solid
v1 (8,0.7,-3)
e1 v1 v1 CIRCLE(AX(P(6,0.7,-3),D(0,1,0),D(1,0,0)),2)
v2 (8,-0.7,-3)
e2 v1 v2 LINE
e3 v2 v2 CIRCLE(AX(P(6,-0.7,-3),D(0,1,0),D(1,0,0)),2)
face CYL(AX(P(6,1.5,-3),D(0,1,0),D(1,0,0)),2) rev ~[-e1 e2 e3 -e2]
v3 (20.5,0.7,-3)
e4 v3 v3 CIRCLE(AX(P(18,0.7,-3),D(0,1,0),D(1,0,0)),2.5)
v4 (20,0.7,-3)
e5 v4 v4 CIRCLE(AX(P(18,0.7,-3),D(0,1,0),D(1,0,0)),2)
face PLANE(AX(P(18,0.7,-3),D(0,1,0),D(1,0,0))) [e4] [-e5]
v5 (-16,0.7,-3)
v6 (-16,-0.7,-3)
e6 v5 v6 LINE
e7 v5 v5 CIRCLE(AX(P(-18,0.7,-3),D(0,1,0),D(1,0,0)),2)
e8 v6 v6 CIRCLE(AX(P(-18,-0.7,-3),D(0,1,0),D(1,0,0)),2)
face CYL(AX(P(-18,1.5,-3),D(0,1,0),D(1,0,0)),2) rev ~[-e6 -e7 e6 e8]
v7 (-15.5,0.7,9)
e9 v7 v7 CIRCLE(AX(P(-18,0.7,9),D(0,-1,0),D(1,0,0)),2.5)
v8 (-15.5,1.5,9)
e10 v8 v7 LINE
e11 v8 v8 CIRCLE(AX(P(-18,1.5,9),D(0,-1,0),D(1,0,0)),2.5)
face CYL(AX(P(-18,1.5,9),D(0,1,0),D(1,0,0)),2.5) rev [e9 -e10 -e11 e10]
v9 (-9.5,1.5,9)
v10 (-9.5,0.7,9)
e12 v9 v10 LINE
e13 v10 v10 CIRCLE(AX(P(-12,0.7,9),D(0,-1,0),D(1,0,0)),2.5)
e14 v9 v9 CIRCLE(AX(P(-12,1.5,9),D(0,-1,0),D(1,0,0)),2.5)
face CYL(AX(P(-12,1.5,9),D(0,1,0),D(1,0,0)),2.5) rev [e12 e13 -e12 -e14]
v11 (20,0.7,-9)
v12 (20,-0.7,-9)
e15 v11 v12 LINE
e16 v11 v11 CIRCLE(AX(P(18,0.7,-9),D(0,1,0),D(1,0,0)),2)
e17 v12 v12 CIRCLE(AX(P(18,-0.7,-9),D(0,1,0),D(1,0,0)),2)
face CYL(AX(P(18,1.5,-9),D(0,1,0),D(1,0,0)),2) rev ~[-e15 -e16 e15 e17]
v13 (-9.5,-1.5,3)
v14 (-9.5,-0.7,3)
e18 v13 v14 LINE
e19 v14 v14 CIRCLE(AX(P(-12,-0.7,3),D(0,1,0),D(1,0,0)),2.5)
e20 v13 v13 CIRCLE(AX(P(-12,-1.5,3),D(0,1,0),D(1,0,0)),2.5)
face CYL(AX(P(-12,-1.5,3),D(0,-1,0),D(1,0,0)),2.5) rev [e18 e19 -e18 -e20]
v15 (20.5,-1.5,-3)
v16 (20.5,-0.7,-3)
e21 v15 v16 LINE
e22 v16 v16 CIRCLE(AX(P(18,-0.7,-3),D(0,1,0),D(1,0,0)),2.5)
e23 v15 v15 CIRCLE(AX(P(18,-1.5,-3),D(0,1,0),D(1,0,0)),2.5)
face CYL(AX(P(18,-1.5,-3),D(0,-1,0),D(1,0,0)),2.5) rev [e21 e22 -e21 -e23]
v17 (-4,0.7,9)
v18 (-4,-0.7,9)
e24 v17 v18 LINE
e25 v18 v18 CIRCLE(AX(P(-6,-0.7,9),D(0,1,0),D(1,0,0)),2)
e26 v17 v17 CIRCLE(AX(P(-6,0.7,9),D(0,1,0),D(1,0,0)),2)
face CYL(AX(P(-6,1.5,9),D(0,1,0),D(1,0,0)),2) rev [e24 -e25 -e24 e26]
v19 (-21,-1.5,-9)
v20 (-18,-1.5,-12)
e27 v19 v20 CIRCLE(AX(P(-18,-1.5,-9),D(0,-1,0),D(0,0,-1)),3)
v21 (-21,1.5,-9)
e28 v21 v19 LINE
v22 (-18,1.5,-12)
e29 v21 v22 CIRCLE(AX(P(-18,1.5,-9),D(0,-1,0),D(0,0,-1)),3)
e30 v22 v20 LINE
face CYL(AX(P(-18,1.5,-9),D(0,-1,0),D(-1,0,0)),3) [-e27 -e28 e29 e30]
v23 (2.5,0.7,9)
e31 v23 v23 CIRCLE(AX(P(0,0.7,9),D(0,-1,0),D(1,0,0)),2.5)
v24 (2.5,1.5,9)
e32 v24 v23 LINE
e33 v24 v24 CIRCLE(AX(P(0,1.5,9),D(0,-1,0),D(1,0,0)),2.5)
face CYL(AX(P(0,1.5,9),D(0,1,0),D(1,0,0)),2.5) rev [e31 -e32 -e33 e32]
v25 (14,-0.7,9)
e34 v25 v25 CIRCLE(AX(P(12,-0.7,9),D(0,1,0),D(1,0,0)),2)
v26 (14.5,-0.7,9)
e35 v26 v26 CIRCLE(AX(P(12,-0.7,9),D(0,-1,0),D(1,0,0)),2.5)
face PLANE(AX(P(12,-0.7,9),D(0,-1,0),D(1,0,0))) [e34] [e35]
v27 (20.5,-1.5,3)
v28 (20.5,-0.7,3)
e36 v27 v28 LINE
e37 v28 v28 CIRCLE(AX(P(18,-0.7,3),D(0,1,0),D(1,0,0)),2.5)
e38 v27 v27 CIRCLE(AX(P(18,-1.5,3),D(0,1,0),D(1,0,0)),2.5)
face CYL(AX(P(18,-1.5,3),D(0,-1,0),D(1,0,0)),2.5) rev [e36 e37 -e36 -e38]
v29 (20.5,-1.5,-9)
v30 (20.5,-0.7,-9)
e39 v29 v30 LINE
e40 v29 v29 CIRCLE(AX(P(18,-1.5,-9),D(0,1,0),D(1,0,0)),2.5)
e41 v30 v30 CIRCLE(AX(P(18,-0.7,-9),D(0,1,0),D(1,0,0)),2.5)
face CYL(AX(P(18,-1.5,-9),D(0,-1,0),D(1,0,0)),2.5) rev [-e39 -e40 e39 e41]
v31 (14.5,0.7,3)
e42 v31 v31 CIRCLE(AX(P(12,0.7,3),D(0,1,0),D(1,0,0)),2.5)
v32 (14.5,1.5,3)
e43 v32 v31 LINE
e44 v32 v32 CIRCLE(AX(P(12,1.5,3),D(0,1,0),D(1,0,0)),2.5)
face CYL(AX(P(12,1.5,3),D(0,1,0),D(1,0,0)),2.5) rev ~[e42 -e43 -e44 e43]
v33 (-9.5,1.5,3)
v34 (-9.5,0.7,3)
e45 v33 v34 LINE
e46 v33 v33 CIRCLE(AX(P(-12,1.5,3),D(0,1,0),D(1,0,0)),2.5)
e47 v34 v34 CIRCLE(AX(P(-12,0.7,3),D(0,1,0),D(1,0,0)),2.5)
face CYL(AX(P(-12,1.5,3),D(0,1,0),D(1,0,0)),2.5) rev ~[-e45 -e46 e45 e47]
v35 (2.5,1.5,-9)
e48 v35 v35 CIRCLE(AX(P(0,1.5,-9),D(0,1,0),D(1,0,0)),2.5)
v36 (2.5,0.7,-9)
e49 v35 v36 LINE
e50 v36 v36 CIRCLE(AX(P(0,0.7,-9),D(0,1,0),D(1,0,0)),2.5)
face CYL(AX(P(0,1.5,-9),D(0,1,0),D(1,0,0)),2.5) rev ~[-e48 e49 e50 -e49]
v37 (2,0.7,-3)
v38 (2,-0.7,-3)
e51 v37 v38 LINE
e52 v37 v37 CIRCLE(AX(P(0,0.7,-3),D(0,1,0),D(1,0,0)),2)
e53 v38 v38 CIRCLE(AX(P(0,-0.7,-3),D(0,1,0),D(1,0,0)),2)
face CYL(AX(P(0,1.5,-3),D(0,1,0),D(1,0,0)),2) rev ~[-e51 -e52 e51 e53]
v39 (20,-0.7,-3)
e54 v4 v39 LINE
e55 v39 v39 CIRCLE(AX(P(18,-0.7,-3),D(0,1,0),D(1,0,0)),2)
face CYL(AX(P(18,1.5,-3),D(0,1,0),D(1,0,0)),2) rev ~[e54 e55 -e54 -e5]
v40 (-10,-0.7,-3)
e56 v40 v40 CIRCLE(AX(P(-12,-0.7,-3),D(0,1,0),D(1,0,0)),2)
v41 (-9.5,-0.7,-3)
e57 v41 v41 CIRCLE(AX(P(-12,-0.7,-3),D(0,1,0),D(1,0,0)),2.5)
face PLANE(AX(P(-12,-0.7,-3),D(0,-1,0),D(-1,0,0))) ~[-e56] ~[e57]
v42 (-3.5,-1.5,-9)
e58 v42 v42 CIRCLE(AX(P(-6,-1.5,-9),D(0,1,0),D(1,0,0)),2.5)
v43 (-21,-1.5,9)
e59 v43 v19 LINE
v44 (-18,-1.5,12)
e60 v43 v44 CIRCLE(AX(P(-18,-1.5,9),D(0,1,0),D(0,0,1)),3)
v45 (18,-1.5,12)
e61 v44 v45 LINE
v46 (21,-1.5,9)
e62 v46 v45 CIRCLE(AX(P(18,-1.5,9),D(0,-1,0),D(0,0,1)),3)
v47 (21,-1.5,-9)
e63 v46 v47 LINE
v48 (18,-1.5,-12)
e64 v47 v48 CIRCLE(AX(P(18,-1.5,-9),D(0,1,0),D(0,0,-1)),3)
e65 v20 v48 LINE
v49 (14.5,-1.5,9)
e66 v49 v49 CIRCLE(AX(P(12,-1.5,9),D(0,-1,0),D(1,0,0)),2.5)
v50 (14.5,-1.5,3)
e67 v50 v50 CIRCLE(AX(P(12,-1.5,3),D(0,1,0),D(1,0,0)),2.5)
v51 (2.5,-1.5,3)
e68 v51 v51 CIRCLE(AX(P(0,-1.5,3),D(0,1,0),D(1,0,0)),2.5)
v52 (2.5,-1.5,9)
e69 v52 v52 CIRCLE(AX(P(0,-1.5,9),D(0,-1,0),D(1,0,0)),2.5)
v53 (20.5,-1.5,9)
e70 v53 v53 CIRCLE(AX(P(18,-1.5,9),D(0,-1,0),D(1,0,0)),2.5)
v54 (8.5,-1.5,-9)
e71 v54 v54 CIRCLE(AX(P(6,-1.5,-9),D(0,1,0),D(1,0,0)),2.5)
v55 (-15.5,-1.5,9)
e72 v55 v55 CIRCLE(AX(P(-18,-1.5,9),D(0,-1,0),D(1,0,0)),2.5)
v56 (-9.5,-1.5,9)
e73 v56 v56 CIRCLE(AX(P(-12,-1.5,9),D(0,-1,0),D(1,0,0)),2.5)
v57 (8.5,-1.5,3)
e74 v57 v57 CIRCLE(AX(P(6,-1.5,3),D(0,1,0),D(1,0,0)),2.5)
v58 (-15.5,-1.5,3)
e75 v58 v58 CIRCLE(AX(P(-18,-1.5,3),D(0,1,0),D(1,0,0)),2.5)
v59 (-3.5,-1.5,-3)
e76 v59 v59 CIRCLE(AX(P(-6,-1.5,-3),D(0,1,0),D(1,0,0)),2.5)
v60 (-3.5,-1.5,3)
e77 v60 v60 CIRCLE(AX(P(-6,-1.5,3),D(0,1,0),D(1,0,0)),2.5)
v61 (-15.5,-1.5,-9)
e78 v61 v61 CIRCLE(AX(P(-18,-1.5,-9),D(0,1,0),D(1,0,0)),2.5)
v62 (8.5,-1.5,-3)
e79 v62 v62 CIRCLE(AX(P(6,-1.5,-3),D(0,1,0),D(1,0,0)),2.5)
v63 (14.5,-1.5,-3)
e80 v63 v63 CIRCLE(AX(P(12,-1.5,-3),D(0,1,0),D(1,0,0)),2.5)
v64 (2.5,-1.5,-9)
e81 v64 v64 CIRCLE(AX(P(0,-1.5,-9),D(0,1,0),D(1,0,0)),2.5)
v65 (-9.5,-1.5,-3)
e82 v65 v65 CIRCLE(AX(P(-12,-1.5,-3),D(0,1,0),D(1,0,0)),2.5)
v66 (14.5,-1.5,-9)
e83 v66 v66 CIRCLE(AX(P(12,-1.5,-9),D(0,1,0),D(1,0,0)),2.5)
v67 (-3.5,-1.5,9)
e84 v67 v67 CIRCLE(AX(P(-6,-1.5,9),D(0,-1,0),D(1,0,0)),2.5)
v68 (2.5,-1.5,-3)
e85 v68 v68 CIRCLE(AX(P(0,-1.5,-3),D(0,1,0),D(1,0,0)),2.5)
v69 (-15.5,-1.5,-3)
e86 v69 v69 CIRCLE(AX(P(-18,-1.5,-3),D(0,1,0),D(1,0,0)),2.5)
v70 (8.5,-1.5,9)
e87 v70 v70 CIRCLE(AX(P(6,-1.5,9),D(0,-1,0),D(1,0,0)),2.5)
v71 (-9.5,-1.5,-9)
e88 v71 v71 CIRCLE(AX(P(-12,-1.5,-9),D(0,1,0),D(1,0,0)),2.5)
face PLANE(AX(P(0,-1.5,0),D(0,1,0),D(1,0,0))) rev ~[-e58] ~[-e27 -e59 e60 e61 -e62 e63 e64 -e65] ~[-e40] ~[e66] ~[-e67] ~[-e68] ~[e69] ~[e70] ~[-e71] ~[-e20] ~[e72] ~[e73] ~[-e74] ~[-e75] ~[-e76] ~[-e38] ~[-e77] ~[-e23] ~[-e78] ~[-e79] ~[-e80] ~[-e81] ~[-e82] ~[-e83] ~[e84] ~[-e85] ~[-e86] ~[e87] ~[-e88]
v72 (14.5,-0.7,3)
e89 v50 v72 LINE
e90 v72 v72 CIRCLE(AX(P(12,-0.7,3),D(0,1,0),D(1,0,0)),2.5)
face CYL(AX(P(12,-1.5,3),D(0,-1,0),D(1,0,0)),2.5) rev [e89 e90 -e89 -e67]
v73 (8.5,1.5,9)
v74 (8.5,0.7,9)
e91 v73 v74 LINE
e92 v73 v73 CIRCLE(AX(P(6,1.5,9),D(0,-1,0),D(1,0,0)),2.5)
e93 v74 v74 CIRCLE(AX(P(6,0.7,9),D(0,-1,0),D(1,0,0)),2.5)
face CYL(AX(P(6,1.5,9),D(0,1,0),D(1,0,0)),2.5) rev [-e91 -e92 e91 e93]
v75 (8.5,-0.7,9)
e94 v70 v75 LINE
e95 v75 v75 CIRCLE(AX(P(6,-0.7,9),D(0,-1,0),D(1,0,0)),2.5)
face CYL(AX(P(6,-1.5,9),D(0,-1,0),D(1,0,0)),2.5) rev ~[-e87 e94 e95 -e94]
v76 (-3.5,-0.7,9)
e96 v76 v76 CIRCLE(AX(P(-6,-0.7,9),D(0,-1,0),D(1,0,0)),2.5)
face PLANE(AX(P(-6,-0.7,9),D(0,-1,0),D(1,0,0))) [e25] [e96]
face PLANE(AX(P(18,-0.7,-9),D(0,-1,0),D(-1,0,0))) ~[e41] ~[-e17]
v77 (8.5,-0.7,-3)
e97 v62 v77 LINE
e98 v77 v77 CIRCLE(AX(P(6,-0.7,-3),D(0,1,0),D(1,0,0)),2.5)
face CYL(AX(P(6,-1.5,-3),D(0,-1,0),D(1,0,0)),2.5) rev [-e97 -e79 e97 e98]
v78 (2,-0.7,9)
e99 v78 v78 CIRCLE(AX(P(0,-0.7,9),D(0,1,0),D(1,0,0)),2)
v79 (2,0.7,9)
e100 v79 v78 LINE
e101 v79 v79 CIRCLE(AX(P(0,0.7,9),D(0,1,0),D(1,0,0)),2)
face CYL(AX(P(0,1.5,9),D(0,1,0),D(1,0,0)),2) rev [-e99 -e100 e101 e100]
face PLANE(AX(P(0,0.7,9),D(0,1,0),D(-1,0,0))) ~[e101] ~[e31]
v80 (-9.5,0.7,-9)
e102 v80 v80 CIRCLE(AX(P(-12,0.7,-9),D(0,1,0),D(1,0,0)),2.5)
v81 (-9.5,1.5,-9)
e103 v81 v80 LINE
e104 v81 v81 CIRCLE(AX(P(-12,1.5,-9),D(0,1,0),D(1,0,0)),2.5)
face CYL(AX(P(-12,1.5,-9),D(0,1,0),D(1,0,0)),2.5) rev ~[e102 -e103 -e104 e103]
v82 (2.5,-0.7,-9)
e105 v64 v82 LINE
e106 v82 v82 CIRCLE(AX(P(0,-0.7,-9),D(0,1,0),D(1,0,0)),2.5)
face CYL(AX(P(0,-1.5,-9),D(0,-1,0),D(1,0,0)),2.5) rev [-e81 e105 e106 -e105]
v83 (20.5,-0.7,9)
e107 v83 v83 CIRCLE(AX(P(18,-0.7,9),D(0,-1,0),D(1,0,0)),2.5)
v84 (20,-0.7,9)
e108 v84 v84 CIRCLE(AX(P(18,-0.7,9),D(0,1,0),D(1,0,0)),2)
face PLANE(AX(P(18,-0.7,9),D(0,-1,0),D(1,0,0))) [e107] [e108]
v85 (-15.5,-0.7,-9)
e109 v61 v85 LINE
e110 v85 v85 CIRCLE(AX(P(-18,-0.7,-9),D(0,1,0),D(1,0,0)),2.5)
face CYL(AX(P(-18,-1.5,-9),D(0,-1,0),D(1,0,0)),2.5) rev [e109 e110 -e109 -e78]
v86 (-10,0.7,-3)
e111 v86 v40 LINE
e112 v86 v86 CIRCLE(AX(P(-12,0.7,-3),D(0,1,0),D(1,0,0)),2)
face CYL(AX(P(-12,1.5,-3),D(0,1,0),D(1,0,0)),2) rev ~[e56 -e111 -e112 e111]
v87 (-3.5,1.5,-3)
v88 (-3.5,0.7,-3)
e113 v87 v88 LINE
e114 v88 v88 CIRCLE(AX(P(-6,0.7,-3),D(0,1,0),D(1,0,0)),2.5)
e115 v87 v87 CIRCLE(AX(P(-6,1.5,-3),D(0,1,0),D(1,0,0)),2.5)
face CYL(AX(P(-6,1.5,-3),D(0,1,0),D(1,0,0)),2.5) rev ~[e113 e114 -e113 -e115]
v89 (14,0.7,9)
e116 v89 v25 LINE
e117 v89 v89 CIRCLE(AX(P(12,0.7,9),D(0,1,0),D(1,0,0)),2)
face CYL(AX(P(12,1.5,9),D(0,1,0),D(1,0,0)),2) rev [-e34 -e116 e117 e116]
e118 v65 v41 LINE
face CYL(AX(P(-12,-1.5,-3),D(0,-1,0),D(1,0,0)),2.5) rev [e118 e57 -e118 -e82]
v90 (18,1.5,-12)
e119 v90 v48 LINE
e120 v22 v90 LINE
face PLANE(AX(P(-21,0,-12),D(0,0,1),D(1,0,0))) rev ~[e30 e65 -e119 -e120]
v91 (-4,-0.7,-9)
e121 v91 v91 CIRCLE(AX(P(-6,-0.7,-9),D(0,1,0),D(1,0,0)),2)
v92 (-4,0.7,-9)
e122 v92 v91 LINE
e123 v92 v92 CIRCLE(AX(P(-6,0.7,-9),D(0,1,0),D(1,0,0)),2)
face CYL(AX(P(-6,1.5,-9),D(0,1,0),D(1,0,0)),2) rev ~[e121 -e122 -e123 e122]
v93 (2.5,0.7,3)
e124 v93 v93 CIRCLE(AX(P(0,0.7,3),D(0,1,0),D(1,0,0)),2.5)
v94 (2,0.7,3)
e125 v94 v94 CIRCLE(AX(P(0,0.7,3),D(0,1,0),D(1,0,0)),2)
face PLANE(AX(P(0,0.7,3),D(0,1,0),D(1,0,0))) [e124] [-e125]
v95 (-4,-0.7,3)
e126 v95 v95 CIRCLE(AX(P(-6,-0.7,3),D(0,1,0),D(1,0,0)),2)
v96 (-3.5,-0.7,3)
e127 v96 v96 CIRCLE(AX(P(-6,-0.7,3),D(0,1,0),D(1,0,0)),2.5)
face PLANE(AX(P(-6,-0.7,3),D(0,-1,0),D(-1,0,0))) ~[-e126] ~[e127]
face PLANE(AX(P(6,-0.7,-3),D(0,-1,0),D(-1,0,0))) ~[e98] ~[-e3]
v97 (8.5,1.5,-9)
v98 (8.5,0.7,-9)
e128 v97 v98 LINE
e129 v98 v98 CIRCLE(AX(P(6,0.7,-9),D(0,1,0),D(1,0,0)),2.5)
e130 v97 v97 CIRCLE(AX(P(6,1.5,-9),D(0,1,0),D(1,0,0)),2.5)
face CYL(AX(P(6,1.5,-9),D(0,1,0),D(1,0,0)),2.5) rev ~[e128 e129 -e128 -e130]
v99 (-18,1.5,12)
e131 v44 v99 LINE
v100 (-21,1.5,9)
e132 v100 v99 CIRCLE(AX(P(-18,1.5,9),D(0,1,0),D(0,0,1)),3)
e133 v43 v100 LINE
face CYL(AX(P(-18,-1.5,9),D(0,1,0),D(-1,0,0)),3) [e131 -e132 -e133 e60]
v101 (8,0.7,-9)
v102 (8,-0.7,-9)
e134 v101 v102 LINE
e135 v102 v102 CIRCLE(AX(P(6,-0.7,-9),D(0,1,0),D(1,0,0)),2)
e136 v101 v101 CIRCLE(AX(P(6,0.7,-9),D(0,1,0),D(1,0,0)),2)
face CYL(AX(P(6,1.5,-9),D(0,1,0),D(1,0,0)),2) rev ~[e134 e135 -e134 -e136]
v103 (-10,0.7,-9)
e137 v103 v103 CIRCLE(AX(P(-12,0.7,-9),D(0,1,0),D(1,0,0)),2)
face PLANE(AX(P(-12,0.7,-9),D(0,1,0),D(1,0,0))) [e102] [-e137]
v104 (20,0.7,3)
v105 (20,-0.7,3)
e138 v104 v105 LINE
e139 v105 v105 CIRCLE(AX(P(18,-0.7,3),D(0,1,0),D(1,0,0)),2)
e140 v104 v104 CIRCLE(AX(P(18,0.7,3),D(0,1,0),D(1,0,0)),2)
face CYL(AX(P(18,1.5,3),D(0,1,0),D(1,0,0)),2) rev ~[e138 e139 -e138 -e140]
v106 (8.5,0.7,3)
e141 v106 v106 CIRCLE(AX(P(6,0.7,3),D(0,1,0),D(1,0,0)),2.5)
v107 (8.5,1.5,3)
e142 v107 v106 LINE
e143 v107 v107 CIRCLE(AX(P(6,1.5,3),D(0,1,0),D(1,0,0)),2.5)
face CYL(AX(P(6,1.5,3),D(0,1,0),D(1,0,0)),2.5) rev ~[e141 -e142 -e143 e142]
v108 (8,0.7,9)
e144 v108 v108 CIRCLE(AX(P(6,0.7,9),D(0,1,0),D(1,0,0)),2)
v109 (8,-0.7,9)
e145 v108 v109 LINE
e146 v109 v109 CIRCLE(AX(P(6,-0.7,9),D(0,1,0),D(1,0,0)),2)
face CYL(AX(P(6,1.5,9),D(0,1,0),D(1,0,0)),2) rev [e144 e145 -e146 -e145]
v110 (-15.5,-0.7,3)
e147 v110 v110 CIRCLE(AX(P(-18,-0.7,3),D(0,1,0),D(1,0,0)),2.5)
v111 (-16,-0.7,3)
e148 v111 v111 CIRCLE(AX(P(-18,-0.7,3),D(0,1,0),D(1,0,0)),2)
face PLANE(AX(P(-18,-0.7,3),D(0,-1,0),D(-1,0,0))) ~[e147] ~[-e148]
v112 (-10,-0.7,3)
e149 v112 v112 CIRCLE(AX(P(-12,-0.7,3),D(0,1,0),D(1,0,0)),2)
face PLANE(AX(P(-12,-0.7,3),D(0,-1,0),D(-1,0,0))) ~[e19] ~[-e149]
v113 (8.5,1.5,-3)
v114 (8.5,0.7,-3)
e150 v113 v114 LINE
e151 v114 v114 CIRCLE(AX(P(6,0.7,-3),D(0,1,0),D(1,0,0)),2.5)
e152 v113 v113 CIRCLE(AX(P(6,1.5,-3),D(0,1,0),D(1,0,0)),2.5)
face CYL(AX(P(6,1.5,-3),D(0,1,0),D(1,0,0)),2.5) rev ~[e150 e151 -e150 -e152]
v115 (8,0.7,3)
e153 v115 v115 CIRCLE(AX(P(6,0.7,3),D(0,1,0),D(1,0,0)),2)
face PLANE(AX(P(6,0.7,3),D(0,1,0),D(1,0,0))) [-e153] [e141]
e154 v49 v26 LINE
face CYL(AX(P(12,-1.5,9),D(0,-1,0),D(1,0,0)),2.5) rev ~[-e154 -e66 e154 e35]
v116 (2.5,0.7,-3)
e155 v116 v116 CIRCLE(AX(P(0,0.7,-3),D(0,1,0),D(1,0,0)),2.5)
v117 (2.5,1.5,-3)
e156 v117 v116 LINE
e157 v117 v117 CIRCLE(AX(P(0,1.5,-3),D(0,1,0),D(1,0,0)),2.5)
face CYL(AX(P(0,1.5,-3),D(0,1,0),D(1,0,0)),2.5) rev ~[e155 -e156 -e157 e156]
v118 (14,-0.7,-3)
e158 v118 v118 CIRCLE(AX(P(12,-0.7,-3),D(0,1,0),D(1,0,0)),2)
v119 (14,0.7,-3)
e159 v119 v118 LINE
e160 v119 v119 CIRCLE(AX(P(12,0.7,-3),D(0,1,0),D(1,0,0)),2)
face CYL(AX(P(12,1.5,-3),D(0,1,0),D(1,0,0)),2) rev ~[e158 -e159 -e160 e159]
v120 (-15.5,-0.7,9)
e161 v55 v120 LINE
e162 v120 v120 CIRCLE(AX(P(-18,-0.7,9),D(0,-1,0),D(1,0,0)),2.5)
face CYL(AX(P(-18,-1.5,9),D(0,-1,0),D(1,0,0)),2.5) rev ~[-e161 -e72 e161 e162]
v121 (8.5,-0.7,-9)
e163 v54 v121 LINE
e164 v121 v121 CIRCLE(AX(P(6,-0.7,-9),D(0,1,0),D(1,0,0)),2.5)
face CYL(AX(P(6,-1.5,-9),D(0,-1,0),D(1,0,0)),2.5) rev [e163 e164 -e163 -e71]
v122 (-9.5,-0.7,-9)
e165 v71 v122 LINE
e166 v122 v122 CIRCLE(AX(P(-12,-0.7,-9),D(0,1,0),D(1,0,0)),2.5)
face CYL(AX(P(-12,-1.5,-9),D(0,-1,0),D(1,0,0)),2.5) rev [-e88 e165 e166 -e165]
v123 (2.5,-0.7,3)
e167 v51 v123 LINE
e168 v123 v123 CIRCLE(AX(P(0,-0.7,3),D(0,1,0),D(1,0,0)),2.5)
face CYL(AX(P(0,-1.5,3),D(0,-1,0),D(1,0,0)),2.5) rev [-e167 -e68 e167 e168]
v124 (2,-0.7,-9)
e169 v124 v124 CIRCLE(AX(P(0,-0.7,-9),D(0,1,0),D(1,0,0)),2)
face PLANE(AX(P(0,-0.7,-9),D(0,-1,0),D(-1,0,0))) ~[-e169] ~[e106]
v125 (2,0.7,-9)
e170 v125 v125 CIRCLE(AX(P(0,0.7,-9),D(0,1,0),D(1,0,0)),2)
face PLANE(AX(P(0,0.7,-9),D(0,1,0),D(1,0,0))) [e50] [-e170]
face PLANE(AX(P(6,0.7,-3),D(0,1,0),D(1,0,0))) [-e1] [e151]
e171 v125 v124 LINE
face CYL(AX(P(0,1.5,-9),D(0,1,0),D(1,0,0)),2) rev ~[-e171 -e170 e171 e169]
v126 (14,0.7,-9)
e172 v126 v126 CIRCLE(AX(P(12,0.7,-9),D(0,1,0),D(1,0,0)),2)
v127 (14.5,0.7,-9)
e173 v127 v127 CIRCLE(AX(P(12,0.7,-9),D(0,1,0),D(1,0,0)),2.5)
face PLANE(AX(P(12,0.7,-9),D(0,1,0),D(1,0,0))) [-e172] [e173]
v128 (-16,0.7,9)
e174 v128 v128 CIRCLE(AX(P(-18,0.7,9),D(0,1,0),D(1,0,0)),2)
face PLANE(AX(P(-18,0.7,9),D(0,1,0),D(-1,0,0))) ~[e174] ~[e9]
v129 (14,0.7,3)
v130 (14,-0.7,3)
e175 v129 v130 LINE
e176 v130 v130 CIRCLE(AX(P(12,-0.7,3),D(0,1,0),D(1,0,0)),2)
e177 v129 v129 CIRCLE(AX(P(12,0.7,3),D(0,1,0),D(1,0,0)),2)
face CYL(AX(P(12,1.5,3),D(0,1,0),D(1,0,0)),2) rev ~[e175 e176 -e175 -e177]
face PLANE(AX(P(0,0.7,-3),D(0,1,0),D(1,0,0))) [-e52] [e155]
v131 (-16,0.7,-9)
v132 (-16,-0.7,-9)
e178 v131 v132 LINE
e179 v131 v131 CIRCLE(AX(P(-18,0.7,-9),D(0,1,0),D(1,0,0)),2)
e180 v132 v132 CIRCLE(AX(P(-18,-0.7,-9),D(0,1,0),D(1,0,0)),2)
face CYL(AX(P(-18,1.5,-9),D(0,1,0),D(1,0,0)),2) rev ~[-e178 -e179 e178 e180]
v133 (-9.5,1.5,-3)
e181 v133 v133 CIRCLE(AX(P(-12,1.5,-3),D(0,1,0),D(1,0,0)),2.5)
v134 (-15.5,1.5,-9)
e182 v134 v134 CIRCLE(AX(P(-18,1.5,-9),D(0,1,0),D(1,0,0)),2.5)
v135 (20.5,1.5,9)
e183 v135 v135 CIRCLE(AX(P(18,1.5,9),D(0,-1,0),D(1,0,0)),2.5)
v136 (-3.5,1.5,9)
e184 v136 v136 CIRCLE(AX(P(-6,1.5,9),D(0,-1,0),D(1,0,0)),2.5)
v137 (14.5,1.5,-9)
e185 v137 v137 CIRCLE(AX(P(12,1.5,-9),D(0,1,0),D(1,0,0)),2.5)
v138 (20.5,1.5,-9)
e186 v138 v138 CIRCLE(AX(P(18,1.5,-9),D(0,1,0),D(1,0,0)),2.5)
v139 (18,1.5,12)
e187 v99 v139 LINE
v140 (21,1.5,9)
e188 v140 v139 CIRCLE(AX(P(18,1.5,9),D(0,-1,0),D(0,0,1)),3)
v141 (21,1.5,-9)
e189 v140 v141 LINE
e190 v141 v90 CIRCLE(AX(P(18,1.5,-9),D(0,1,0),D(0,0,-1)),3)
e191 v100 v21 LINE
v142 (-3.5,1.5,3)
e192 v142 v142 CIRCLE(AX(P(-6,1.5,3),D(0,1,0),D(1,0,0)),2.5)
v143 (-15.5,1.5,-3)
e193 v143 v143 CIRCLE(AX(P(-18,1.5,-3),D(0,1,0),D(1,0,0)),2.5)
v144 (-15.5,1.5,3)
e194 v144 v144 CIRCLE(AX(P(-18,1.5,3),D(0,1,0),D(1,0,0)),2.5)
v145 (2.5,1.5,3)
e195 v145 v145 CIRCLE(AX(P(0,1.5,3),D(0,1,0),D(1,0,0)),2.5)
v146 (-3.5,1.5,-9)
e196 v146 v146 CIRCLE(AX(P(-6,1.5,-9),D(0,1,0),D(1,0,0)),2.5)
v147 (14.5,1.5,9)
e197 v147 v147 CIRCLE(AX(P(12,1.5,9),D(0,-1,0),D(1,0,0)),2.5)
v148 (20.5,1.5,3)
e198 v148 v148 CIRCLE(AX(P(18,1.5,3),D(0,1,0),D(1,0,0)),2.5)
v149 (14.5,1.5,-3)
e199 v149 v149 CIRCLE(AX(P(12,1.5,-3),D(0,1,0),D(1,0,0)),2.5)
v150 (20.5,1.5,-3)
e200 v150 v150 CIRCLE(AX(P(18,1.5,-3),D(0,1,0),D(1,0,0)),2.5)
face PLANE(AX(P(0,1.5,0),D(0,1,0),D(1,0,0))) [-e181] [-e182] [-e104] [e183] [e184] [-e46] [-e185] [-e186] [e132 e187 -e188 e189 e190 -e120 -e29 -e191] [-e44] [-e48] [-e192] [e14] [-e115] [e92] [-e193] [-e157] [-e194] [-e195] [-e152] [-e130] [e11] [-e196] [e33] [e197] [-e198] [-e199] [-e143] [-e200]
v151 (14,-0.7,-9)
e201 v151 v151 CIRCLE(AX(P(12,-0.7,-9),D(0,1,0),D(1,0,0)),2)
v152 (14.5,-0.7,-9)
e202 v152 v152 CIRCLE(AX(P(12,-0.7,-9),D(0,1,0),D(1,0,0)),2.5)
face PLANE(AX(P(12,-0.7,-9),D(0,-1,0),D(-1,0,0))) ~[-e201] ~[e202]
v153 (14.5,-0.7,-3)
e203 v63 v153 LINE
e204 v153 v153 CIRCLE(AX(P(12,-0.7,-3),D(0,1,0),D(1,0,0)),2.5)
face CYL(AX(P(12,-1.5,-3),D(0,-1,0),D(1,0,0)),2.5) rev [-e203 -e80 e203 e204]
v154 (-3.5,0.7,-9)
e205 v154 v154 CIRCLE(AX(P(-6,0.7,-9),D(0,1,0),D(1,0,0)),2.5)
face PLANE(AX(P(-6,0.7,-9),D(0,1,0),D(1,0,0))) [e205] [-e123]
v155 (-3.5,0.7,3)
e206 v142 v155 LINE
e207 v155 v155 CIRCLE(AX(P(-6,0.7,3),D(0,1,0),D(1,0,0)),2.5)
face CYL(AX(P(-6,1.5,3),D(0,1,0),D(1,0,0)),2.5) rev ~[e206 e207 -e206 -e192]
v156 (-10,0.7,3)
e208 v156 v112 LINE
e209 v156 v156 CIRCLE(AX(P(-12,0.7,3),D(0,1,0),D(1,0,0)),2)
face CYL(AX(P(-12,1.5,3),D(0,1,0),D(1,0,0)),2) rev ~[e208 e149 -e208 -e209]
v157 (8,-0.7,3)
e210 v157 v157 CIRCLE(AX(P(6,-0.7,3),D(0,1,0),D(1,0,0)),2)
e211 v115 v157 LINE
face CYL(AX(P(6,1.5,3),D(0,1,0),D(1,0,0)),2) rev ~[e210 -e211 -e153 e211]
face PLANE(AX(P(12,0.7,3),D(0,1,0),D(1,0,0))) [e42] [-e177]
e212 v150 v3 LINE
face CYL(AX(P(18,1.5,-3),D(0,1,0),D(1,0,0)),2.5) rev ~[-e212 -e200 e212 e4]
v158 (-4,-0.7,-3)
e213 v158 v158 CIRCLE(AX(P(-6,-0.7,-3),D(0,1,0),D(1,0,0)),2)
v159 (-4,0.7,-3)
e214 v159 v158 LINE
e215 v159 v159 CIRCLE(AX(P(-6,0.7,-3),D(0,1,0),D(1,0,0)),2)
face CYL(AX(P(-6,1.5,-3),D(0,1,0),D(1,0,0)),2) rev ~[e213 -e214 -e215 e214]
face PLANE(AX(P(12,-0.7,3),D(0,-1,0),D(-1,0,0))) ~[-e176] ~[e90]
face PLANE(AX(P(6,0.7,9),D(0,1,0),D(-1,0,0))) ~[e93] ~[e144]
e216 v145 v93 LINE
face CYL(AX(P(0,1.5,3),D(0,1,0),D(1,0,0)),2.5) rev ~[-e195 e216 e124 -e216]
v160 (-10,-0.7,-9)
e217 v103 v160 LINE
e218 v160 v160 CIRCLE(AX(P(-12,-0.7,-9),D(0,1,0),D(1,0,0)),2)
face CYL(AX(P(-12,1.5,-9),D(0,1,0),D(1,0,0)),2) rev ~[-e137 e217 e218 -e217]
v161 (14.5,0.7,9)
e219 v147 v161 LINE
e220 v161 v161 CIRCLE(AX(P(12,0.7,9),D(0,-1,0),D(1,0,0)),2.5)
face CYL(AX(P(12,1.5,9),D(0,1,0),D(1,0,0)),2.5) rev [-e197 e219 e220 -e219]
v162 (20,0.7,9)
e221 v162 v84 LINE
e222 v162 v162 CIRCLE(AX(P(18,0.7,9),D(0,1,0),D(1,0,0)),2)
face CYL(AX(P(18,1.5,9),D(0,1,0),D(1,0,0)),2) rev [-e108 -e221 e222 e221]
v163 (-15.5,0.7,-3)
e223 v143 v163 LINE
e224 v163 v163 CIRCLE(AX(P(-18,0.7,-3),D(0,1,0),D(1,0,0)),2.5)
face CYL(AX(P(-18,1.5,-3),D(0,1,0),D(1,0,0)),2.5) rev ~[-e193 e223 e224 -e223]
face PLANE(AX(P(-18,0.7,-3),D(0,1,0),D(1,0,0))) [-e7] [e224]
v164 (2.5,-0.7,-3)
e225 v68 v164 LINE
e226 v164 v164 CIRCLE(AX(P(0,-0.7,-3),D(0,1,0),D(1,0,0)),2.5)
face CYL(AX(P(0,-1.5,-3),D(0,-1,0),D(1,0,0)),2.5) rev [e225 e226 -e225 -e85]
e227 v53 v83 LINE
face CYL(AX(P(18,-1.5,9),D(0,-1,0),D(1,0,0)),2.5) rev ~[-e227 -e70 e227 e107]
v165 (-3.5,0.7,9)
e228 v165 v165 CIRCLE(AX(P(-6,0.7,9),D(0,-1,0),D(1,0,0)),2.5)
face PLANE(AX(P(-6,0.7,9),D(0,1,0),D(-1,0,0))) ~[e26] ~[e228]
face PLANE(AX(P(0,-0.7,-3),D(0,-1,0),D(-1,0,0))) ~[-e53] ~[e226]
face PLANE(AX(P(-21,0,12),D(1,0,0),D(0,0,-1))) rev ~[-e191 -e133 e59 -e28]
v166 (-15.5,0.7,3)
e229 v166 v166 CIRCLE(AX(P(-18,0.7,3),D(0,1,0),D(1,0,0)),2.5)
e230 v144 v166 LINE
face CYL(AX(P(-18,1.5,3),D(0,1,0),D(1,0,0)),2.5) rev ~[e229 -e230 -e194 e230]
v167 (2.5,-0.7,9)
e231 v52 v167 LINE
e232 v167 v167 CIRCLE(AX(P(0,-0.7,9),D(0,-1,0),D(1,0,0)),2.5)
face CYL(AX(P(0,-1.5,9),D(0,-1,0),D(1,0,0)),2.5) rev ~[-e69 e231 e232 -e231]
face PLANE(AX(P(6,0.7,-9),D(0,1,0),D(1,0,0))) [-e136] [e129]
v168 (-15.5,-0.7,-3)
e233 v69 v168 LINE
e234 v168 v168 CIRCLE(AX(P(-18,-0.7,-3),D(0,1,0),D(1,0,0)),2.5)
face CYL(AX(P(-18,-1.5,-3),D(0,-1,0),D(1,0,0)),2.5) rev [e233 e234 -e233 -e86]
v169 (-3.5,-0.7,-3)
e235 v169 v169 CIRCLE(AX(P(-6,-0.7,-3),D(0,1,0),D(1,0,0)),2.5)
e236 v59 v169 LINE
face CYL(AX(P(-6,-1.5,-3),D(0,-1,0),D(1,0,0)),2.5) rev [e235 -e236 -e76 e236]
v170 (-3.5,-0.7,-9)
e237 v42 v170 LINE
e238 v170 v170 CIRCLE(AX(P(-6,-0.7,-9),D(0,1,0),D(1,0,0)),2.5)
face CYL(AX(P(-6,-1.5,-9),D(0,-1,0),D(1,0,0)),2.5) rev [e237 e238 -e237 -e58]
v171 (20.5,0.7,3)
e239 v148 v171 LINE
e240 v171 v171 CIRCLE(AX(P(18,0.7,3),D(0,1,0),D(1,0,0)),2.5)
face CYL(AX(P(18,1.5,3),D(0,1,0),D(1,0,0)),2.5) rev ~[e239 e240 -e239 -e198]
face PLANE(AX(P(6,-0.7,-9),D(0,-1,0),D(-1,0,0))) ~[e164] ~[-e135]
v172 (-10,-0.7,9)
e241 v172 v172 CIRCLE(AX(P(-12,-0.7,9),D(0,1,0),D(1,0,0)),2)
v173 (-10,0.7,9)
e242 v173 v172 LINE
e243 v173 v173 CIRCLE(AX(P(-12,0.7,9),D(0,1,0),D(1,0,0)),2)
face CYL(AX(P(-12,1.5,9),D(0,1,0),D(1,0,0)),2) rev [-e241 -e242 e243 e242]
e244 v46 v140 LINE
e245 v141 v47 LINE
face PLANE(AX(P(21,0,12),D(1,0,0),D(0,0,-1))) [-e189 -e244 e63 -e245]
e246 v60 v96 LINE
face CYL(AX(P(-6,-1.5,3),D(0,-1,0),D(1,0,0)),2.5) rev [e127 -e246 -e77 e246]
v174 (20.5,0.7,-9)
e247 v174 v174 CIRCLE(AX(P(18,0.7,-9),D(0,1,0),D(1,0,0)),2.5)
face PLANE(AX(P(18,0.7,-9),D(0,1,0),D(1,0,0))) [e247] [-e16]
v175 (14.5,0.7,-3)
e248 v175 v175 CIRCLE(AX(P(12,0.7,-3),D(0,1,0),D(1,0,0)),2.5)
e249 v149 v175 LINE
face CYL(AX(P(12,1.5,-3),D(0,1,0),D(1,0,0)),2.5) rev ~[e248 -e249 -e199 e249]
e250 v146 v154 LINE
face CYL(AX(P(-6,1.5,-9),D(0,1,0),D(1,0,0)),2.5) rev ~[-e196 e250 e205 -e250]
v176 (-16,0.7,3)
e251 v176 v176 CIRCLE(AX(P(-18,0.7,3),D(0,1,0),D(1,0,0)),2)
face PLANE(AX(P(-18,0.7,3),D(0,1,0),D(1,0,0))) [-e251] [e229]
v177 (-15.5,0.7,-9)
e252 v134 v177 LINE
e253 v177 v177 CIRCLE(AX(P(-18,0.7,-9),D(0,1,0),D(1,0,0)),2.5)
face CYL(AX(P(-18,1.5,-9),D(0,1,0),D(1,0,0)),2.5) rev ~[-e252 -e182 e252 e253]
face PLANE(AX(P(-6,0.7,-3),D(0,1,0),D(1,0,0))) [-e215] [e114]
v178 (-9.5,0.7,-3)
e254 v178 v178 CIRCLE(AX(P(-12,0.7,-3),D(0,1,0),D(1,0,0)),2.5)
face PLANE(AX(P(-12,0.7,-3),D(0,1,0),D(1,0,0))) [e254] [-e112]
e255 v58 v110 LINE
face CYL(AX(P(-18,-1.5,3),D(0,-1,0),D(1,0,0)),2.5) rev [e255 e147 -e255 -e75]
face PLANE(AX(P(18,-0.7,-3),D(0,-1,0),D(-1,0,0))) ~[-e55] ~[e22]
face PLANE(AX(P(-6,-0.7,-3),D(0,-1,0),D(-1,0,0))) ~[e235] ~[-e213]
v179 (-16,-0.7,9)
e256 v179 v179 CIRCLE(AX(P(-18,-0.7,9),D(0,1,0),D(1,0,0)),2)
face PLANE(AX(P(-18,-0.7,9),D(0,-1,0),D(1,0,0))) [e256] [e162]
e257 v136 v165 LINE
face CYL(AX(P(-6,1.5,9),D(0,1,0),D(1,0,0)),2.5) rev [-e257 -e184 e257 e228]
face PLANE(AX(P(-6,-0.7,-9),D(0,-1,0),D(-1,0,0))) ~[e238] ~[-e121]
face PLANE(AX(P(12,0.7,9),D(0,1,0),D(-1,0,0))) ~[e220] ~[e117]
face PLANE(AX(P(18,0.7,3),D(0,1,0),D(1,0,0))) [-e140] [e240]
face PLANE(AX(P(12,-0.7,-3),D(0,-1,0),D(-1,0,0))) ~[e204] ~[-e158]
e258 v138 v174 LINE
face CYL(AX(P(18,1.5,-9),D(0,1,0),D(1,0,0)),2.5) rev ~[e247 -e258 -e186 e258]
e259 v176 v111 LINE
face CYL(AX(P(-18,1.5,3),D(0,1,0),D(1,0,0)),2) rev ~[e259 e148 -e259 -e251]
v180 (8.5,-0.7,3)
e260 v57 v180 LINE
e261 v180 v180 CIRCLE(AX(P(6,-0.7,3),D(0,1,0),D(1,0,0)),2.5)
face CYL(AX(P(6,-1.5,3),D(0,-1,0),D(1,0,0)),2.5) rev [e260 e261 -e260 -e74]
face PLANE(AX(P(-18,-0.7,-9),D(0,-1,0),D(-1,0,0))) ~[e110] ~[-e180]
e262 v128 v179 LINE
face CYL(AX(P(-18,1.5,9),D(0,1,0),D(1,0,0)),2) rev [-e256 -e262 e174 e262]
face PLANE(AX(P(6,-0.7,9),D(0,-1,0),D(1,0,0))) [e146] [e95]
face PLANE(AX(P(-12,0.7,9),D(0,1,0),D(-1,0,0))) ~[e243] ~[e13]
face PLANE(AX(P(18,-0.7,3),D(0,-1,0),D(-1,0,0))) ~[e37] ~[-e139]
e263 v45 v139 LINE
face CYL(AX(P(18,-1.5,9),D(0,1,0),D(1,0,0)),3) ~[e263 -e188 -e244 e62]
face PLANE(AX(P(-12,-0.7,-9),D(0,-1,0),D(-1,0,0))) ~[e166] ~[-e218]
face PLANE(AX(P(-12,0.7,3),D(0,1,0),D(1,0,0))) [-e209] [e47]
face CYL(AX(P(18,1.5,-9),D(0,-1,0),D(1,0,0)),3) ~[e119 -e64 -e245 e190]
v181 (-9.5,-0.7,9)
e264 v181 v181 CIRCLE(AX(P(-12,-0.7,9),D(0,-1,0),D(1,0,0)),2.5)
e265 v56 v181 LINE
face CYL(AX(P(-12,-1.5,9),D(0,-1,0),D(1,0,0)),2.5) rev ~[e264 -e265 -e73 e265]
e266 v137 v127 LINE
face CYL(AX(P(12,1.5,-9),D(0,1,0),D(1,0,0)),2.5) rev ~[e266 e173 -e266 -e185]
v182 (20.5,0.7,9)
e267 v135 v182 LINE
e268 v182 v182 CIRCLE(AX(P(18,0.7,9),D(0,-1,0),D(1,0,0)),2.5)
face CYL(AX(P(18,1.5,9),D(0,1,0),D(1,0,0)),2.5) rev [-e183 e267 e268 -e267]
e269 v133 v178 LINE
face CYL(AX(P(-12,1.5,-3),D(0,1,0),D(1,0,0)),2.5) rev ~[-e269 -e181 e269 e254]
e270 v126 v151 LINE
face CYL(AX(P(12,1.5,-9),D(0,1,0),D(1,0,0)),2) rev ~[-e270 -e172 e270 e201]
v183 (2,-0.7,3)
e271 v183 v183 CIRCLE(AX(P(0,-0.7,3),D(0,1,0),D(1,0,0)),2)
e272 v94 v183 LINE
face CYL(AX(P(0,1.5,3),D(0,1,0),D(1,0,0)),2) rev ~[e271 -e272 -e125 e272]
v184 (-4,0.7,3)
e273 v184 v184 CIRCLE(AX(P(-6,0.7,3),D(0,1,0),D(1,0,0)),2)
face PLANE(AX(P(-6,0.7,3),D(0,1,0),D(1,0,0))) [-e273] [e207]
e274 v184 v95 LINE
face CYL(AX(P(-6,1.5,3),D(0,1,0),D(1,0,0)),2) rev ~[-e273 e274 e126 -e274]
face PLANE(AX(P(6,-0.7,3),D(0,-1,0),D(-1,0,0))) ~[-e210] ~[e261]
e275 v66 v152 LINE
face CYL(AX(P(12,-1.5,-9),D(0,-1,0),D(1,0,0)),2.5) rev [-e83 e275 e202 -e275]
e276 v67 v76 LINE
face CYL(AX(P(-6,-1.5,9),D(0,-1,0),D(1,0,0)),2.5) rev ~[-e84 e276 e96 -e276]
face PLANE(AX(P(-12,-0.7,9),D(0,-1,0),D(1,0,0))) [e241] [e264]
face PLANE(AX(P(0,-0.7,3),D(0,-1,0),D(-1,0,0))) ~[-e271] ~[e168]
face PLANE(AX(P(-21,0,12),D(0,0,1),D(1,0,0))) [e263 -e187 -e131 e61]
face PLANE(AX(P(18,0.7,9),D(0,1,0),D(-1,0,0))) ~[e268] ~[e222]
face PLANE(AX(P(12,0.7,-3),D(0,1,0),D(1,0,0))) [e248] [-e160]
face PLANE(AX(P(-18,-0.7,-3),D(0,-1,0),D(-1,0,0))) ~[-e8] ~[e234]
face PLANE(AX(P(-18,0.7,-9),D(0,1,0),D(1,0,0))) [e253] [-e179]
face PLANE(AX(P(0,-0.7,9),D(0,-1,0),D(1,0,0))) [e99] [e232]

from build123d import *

# Parameters (mm, degrees)
SKETCH1_W               = 42
SKETCH1_H               = 24
BOSS_EXTRUDE1_DEPTH     = 1.5
FILLET1_R               = 3
SKETCH2_R               = 2
CUT_EXTRUDE1_DEPTH      = 4
SKETCH3_R               = 2.5
CUT_EXTRUDE2_DEPTH      = 0.8
MIRROR2_COPY_1_SKETCH_R = 2.5
MIRROR2_COPY_1_DEPTH    = 0.8


with BuildPart() as part:
    # Sketch1 → Boss-Extrude1 (new body, symmetric)
    with BuildSketch(Plane(origin=(0, 0, 0), x_dir=(1, 0, 0), z_dir=(0, 1, 0))):
        Rectangle(SKETCH1_W, SKETCH1_H)
    extrude(amount=BOSS_EXTRUDE1_DEPTH, both=True)

    # Fillet1
    fillet1_edges = [part.edges().sort_by_distance(p)[0] for p in [
        (-21, 0, -12),
        (21, 0, -12),
        (21, 0, 12),
        (-21, 0, 12),
    ]]
    fillet(fillet1_edges, radius=FILLET1_R)

    # Sketch2 → Cut-Extrude1 (cut, through all)
    with BuildSketch(Plane(origin=(0, 1.5, 0), x_dir=(1, 0, 0), z_dir=(0, 1, 0))):
        with Locations((-18, 9)):
            Circle(SKETCH2_R)
        with Locations((-12, 9)):
            Circle(SKETCH2_R)
        with Locations((-6, 9)):
            Circle(SKETCH2_R)
        with Locations((0, 9)):
            Circle(SKETCH2_R)
        with Locations((6, 9)):
            Circle(SKETCH2_R)
        with Locations((12, 9)):
            Circle(SKETCH2_R)
        with Locations((18, 9)):
            Circle(SKETCH2_R)
        with Locations((-12, 3)):
            Circle(SKETCH2_R)
        with Locations((-6, 3)):
            Circle(SKETCH2_R)
        with Locations((0, 3)):
            Circle(SKETCH2_R)
        with Locations((6, 3)):
            Circle(SKETCH2_R)
        with Locations((12, 3)):
            Circle(SKETCH2_R)
        with Locations((18, 3)):
            Circle(SKETCH2_R)
        with Locations((-12, -3)):
            Circle(SKETCH2_R)
        with Locations((-6, -3)):
            Circle(SKETCH2_R)
        with Locations((0, -3)):
            Circle(SKETCH2_R)
        with Locations((6, -3)):
            Circle(SKETCH2_R)
        with Locations((12, -3)):
            Circle(SKETCH2_R)
        with Locations((18, -3)):
            Circle(SKETCH2_R)
        with Locations((-18, 3)):
            Circle(SKETCH2_R)
        with Locations((-18, -3)):
            Circle(SKETCH2_R)
    cut_extrude1 = extrude(amount=-CUT_EXTRUDE1_DEPTH, mode=Mode.SUBTRACT)

    # Sketch3 → Cut-Extrude2 (cut)
    with BuildSketch(Plane(origin=(0, 1.5, 0), x_dir=(1, 0, 0), z_dir=(0, 1, 0))):
        with Locations((-18, 9)):
            Circle(SKETCH3_R)
        with Locations((-12, 9)):
            Circle(SKETCH3_R)
        with Locations((-6, 9)):
            Circle(SKETCH3_R)
        with Locations((0, 9)):
            Circle(SKETCH3_R)
        with Locations((6, 9)):
            Circle(SKETCH3_R)
        with Locations((12, 9)):
            Circle(SKETCH3_R)
        with Locations((18, 9)):
            Circle(SKETCH3_R)
        with Locations((-12, 3)):
            Circle(SKETCH3_R)
        with Locations((-6, 3)):
            Circle(SKETCH3_R)
        with Locations((0, 3)):
            Circle(SKETCH3_R)
        with Locations((6, 3)):
            Circle(SKETCH3_R)
        with Locations((12, 3)):
            Circle(SKETCH3_R)
        with Locations((18, 3)):
            Circle(SKETCH3_R)
        with Locations((-12, -3)):
            Circle(SKETCH3_R)
        with Locations((-6, -3)):
            Circle(SKETCH3_R)
        with Locations((0, -3)):
            Circle(SKETCH3_R)
        with Locations((6, -3)):
            Circle(SKETCH3_R)
        with Locations((12, -3)):
            Circle(SKETCH3_R)
        with Locations((18, -3)):
            Circle(SKETCH3_R)
        with Locations((-18, 3)):
            Circle(SKETCH3_R)
        with Locations((-18, -3)):
            Circle(SKETCH3_R)
    cut_extrude2 = extrude(amount=-CUT_EXTRUDE2_DEPTH, mode=Mode.SUBTRACT)

    # Mirror1: Cut-Extrude2 across plane
    add(cut_extrude2.mirror(Plane.ZX), mode=Mode.SUBTRACT)

    # Mirror2: Cut-Extrude1, Cut-Extrude2 across plane
    add(cut_extrude1.mirror(Plane.XY), mode=Mode.SUBTRACT)
    add(cut_extrude2.mirror(Plane.XY), mode=Mode.SUBTRACT)

    # Mirror2 copy 1 sketch → Mirror2 copy 1 (cut)
    with BuildSketch(Plane.XZ.offset(1.5)):
        with Locations((-18, 9)):
            Circle(MIRROR2_COPY_1_SKETCH_R)
        with Locations((-12, 9)):
            Circle(MIRROR2_COPY_1_SKETCH_R)
        with Locations((-6, 9)):
            Circle(MIRROR2_COPY_1_SKETCH_R)
        with Locations((0, 9)):
            Circle(MIRROR2_COPY_1_SKETCH_R)
        with Locations((6, 9)):
            Circle(MIRROR2_COPY_1_SKETCH_R)
        with Locations((12, 9)):
            Circle(MIRROR2_COPY_1_SKETCH_R)
        with Locations((18, 9)):
            Circle(MIRROR2_COPY_1_SKETCH_R)
        with Locations((-12, 3)):
            Circle(MIRROR2_COPY_1_SKETCH_R)
        with Locations((-6, 3)):
            Circle(MIRROR2_COPY_1_SKETCH_R)
        with Locations((0, 3)):
            Circle(MIRROR2_COPY_1_SKETCH_R)
        with Locations((6, 3)):
            Circle(MIRROR2_COPY_1_SKETCH_R)
        with Locations((12, 3)):
            Circle(MIRROR2_COPY_1_SKETCH_R)
        with Locations((18, 3)):
            Circle(MIRROR2_COPY_1_SKETCH_R)
        with Locations((-12, -3)):
            Circle(MIRROR2_COPY_1_SKETCH_R)
        with Locations((-6, -3)):
            Circle(MIRROR2_COPY_1_SKETCH_R)
        with Locations((0, -3)):
            Circle(MIRROR2_COPY_1_SKETCH_R)
        with Locations((6, -3)):
            Circle(MIRROR2_COPY_1_SKETCH_R)
        with Locations((12, -3)):
            Circle(MIRROR2_COPY_1_SKETCH_R)
        with Locations((18, -3)):
            Circle(MIRROR2_COPY_1_SKETCH_R)
        with Locations((-18, 3)):
            Circle(MIRROR2_COPY_1_SKETCH_R)
        with Locations((-18, -3)):
            Circle(MIRROR2_COPY_1_SKETCH_R)
    extrude(amount=-MIRROR2_COPY_1_DEPTH, mode=Mode.SUBTRACT)


solid = part.part
